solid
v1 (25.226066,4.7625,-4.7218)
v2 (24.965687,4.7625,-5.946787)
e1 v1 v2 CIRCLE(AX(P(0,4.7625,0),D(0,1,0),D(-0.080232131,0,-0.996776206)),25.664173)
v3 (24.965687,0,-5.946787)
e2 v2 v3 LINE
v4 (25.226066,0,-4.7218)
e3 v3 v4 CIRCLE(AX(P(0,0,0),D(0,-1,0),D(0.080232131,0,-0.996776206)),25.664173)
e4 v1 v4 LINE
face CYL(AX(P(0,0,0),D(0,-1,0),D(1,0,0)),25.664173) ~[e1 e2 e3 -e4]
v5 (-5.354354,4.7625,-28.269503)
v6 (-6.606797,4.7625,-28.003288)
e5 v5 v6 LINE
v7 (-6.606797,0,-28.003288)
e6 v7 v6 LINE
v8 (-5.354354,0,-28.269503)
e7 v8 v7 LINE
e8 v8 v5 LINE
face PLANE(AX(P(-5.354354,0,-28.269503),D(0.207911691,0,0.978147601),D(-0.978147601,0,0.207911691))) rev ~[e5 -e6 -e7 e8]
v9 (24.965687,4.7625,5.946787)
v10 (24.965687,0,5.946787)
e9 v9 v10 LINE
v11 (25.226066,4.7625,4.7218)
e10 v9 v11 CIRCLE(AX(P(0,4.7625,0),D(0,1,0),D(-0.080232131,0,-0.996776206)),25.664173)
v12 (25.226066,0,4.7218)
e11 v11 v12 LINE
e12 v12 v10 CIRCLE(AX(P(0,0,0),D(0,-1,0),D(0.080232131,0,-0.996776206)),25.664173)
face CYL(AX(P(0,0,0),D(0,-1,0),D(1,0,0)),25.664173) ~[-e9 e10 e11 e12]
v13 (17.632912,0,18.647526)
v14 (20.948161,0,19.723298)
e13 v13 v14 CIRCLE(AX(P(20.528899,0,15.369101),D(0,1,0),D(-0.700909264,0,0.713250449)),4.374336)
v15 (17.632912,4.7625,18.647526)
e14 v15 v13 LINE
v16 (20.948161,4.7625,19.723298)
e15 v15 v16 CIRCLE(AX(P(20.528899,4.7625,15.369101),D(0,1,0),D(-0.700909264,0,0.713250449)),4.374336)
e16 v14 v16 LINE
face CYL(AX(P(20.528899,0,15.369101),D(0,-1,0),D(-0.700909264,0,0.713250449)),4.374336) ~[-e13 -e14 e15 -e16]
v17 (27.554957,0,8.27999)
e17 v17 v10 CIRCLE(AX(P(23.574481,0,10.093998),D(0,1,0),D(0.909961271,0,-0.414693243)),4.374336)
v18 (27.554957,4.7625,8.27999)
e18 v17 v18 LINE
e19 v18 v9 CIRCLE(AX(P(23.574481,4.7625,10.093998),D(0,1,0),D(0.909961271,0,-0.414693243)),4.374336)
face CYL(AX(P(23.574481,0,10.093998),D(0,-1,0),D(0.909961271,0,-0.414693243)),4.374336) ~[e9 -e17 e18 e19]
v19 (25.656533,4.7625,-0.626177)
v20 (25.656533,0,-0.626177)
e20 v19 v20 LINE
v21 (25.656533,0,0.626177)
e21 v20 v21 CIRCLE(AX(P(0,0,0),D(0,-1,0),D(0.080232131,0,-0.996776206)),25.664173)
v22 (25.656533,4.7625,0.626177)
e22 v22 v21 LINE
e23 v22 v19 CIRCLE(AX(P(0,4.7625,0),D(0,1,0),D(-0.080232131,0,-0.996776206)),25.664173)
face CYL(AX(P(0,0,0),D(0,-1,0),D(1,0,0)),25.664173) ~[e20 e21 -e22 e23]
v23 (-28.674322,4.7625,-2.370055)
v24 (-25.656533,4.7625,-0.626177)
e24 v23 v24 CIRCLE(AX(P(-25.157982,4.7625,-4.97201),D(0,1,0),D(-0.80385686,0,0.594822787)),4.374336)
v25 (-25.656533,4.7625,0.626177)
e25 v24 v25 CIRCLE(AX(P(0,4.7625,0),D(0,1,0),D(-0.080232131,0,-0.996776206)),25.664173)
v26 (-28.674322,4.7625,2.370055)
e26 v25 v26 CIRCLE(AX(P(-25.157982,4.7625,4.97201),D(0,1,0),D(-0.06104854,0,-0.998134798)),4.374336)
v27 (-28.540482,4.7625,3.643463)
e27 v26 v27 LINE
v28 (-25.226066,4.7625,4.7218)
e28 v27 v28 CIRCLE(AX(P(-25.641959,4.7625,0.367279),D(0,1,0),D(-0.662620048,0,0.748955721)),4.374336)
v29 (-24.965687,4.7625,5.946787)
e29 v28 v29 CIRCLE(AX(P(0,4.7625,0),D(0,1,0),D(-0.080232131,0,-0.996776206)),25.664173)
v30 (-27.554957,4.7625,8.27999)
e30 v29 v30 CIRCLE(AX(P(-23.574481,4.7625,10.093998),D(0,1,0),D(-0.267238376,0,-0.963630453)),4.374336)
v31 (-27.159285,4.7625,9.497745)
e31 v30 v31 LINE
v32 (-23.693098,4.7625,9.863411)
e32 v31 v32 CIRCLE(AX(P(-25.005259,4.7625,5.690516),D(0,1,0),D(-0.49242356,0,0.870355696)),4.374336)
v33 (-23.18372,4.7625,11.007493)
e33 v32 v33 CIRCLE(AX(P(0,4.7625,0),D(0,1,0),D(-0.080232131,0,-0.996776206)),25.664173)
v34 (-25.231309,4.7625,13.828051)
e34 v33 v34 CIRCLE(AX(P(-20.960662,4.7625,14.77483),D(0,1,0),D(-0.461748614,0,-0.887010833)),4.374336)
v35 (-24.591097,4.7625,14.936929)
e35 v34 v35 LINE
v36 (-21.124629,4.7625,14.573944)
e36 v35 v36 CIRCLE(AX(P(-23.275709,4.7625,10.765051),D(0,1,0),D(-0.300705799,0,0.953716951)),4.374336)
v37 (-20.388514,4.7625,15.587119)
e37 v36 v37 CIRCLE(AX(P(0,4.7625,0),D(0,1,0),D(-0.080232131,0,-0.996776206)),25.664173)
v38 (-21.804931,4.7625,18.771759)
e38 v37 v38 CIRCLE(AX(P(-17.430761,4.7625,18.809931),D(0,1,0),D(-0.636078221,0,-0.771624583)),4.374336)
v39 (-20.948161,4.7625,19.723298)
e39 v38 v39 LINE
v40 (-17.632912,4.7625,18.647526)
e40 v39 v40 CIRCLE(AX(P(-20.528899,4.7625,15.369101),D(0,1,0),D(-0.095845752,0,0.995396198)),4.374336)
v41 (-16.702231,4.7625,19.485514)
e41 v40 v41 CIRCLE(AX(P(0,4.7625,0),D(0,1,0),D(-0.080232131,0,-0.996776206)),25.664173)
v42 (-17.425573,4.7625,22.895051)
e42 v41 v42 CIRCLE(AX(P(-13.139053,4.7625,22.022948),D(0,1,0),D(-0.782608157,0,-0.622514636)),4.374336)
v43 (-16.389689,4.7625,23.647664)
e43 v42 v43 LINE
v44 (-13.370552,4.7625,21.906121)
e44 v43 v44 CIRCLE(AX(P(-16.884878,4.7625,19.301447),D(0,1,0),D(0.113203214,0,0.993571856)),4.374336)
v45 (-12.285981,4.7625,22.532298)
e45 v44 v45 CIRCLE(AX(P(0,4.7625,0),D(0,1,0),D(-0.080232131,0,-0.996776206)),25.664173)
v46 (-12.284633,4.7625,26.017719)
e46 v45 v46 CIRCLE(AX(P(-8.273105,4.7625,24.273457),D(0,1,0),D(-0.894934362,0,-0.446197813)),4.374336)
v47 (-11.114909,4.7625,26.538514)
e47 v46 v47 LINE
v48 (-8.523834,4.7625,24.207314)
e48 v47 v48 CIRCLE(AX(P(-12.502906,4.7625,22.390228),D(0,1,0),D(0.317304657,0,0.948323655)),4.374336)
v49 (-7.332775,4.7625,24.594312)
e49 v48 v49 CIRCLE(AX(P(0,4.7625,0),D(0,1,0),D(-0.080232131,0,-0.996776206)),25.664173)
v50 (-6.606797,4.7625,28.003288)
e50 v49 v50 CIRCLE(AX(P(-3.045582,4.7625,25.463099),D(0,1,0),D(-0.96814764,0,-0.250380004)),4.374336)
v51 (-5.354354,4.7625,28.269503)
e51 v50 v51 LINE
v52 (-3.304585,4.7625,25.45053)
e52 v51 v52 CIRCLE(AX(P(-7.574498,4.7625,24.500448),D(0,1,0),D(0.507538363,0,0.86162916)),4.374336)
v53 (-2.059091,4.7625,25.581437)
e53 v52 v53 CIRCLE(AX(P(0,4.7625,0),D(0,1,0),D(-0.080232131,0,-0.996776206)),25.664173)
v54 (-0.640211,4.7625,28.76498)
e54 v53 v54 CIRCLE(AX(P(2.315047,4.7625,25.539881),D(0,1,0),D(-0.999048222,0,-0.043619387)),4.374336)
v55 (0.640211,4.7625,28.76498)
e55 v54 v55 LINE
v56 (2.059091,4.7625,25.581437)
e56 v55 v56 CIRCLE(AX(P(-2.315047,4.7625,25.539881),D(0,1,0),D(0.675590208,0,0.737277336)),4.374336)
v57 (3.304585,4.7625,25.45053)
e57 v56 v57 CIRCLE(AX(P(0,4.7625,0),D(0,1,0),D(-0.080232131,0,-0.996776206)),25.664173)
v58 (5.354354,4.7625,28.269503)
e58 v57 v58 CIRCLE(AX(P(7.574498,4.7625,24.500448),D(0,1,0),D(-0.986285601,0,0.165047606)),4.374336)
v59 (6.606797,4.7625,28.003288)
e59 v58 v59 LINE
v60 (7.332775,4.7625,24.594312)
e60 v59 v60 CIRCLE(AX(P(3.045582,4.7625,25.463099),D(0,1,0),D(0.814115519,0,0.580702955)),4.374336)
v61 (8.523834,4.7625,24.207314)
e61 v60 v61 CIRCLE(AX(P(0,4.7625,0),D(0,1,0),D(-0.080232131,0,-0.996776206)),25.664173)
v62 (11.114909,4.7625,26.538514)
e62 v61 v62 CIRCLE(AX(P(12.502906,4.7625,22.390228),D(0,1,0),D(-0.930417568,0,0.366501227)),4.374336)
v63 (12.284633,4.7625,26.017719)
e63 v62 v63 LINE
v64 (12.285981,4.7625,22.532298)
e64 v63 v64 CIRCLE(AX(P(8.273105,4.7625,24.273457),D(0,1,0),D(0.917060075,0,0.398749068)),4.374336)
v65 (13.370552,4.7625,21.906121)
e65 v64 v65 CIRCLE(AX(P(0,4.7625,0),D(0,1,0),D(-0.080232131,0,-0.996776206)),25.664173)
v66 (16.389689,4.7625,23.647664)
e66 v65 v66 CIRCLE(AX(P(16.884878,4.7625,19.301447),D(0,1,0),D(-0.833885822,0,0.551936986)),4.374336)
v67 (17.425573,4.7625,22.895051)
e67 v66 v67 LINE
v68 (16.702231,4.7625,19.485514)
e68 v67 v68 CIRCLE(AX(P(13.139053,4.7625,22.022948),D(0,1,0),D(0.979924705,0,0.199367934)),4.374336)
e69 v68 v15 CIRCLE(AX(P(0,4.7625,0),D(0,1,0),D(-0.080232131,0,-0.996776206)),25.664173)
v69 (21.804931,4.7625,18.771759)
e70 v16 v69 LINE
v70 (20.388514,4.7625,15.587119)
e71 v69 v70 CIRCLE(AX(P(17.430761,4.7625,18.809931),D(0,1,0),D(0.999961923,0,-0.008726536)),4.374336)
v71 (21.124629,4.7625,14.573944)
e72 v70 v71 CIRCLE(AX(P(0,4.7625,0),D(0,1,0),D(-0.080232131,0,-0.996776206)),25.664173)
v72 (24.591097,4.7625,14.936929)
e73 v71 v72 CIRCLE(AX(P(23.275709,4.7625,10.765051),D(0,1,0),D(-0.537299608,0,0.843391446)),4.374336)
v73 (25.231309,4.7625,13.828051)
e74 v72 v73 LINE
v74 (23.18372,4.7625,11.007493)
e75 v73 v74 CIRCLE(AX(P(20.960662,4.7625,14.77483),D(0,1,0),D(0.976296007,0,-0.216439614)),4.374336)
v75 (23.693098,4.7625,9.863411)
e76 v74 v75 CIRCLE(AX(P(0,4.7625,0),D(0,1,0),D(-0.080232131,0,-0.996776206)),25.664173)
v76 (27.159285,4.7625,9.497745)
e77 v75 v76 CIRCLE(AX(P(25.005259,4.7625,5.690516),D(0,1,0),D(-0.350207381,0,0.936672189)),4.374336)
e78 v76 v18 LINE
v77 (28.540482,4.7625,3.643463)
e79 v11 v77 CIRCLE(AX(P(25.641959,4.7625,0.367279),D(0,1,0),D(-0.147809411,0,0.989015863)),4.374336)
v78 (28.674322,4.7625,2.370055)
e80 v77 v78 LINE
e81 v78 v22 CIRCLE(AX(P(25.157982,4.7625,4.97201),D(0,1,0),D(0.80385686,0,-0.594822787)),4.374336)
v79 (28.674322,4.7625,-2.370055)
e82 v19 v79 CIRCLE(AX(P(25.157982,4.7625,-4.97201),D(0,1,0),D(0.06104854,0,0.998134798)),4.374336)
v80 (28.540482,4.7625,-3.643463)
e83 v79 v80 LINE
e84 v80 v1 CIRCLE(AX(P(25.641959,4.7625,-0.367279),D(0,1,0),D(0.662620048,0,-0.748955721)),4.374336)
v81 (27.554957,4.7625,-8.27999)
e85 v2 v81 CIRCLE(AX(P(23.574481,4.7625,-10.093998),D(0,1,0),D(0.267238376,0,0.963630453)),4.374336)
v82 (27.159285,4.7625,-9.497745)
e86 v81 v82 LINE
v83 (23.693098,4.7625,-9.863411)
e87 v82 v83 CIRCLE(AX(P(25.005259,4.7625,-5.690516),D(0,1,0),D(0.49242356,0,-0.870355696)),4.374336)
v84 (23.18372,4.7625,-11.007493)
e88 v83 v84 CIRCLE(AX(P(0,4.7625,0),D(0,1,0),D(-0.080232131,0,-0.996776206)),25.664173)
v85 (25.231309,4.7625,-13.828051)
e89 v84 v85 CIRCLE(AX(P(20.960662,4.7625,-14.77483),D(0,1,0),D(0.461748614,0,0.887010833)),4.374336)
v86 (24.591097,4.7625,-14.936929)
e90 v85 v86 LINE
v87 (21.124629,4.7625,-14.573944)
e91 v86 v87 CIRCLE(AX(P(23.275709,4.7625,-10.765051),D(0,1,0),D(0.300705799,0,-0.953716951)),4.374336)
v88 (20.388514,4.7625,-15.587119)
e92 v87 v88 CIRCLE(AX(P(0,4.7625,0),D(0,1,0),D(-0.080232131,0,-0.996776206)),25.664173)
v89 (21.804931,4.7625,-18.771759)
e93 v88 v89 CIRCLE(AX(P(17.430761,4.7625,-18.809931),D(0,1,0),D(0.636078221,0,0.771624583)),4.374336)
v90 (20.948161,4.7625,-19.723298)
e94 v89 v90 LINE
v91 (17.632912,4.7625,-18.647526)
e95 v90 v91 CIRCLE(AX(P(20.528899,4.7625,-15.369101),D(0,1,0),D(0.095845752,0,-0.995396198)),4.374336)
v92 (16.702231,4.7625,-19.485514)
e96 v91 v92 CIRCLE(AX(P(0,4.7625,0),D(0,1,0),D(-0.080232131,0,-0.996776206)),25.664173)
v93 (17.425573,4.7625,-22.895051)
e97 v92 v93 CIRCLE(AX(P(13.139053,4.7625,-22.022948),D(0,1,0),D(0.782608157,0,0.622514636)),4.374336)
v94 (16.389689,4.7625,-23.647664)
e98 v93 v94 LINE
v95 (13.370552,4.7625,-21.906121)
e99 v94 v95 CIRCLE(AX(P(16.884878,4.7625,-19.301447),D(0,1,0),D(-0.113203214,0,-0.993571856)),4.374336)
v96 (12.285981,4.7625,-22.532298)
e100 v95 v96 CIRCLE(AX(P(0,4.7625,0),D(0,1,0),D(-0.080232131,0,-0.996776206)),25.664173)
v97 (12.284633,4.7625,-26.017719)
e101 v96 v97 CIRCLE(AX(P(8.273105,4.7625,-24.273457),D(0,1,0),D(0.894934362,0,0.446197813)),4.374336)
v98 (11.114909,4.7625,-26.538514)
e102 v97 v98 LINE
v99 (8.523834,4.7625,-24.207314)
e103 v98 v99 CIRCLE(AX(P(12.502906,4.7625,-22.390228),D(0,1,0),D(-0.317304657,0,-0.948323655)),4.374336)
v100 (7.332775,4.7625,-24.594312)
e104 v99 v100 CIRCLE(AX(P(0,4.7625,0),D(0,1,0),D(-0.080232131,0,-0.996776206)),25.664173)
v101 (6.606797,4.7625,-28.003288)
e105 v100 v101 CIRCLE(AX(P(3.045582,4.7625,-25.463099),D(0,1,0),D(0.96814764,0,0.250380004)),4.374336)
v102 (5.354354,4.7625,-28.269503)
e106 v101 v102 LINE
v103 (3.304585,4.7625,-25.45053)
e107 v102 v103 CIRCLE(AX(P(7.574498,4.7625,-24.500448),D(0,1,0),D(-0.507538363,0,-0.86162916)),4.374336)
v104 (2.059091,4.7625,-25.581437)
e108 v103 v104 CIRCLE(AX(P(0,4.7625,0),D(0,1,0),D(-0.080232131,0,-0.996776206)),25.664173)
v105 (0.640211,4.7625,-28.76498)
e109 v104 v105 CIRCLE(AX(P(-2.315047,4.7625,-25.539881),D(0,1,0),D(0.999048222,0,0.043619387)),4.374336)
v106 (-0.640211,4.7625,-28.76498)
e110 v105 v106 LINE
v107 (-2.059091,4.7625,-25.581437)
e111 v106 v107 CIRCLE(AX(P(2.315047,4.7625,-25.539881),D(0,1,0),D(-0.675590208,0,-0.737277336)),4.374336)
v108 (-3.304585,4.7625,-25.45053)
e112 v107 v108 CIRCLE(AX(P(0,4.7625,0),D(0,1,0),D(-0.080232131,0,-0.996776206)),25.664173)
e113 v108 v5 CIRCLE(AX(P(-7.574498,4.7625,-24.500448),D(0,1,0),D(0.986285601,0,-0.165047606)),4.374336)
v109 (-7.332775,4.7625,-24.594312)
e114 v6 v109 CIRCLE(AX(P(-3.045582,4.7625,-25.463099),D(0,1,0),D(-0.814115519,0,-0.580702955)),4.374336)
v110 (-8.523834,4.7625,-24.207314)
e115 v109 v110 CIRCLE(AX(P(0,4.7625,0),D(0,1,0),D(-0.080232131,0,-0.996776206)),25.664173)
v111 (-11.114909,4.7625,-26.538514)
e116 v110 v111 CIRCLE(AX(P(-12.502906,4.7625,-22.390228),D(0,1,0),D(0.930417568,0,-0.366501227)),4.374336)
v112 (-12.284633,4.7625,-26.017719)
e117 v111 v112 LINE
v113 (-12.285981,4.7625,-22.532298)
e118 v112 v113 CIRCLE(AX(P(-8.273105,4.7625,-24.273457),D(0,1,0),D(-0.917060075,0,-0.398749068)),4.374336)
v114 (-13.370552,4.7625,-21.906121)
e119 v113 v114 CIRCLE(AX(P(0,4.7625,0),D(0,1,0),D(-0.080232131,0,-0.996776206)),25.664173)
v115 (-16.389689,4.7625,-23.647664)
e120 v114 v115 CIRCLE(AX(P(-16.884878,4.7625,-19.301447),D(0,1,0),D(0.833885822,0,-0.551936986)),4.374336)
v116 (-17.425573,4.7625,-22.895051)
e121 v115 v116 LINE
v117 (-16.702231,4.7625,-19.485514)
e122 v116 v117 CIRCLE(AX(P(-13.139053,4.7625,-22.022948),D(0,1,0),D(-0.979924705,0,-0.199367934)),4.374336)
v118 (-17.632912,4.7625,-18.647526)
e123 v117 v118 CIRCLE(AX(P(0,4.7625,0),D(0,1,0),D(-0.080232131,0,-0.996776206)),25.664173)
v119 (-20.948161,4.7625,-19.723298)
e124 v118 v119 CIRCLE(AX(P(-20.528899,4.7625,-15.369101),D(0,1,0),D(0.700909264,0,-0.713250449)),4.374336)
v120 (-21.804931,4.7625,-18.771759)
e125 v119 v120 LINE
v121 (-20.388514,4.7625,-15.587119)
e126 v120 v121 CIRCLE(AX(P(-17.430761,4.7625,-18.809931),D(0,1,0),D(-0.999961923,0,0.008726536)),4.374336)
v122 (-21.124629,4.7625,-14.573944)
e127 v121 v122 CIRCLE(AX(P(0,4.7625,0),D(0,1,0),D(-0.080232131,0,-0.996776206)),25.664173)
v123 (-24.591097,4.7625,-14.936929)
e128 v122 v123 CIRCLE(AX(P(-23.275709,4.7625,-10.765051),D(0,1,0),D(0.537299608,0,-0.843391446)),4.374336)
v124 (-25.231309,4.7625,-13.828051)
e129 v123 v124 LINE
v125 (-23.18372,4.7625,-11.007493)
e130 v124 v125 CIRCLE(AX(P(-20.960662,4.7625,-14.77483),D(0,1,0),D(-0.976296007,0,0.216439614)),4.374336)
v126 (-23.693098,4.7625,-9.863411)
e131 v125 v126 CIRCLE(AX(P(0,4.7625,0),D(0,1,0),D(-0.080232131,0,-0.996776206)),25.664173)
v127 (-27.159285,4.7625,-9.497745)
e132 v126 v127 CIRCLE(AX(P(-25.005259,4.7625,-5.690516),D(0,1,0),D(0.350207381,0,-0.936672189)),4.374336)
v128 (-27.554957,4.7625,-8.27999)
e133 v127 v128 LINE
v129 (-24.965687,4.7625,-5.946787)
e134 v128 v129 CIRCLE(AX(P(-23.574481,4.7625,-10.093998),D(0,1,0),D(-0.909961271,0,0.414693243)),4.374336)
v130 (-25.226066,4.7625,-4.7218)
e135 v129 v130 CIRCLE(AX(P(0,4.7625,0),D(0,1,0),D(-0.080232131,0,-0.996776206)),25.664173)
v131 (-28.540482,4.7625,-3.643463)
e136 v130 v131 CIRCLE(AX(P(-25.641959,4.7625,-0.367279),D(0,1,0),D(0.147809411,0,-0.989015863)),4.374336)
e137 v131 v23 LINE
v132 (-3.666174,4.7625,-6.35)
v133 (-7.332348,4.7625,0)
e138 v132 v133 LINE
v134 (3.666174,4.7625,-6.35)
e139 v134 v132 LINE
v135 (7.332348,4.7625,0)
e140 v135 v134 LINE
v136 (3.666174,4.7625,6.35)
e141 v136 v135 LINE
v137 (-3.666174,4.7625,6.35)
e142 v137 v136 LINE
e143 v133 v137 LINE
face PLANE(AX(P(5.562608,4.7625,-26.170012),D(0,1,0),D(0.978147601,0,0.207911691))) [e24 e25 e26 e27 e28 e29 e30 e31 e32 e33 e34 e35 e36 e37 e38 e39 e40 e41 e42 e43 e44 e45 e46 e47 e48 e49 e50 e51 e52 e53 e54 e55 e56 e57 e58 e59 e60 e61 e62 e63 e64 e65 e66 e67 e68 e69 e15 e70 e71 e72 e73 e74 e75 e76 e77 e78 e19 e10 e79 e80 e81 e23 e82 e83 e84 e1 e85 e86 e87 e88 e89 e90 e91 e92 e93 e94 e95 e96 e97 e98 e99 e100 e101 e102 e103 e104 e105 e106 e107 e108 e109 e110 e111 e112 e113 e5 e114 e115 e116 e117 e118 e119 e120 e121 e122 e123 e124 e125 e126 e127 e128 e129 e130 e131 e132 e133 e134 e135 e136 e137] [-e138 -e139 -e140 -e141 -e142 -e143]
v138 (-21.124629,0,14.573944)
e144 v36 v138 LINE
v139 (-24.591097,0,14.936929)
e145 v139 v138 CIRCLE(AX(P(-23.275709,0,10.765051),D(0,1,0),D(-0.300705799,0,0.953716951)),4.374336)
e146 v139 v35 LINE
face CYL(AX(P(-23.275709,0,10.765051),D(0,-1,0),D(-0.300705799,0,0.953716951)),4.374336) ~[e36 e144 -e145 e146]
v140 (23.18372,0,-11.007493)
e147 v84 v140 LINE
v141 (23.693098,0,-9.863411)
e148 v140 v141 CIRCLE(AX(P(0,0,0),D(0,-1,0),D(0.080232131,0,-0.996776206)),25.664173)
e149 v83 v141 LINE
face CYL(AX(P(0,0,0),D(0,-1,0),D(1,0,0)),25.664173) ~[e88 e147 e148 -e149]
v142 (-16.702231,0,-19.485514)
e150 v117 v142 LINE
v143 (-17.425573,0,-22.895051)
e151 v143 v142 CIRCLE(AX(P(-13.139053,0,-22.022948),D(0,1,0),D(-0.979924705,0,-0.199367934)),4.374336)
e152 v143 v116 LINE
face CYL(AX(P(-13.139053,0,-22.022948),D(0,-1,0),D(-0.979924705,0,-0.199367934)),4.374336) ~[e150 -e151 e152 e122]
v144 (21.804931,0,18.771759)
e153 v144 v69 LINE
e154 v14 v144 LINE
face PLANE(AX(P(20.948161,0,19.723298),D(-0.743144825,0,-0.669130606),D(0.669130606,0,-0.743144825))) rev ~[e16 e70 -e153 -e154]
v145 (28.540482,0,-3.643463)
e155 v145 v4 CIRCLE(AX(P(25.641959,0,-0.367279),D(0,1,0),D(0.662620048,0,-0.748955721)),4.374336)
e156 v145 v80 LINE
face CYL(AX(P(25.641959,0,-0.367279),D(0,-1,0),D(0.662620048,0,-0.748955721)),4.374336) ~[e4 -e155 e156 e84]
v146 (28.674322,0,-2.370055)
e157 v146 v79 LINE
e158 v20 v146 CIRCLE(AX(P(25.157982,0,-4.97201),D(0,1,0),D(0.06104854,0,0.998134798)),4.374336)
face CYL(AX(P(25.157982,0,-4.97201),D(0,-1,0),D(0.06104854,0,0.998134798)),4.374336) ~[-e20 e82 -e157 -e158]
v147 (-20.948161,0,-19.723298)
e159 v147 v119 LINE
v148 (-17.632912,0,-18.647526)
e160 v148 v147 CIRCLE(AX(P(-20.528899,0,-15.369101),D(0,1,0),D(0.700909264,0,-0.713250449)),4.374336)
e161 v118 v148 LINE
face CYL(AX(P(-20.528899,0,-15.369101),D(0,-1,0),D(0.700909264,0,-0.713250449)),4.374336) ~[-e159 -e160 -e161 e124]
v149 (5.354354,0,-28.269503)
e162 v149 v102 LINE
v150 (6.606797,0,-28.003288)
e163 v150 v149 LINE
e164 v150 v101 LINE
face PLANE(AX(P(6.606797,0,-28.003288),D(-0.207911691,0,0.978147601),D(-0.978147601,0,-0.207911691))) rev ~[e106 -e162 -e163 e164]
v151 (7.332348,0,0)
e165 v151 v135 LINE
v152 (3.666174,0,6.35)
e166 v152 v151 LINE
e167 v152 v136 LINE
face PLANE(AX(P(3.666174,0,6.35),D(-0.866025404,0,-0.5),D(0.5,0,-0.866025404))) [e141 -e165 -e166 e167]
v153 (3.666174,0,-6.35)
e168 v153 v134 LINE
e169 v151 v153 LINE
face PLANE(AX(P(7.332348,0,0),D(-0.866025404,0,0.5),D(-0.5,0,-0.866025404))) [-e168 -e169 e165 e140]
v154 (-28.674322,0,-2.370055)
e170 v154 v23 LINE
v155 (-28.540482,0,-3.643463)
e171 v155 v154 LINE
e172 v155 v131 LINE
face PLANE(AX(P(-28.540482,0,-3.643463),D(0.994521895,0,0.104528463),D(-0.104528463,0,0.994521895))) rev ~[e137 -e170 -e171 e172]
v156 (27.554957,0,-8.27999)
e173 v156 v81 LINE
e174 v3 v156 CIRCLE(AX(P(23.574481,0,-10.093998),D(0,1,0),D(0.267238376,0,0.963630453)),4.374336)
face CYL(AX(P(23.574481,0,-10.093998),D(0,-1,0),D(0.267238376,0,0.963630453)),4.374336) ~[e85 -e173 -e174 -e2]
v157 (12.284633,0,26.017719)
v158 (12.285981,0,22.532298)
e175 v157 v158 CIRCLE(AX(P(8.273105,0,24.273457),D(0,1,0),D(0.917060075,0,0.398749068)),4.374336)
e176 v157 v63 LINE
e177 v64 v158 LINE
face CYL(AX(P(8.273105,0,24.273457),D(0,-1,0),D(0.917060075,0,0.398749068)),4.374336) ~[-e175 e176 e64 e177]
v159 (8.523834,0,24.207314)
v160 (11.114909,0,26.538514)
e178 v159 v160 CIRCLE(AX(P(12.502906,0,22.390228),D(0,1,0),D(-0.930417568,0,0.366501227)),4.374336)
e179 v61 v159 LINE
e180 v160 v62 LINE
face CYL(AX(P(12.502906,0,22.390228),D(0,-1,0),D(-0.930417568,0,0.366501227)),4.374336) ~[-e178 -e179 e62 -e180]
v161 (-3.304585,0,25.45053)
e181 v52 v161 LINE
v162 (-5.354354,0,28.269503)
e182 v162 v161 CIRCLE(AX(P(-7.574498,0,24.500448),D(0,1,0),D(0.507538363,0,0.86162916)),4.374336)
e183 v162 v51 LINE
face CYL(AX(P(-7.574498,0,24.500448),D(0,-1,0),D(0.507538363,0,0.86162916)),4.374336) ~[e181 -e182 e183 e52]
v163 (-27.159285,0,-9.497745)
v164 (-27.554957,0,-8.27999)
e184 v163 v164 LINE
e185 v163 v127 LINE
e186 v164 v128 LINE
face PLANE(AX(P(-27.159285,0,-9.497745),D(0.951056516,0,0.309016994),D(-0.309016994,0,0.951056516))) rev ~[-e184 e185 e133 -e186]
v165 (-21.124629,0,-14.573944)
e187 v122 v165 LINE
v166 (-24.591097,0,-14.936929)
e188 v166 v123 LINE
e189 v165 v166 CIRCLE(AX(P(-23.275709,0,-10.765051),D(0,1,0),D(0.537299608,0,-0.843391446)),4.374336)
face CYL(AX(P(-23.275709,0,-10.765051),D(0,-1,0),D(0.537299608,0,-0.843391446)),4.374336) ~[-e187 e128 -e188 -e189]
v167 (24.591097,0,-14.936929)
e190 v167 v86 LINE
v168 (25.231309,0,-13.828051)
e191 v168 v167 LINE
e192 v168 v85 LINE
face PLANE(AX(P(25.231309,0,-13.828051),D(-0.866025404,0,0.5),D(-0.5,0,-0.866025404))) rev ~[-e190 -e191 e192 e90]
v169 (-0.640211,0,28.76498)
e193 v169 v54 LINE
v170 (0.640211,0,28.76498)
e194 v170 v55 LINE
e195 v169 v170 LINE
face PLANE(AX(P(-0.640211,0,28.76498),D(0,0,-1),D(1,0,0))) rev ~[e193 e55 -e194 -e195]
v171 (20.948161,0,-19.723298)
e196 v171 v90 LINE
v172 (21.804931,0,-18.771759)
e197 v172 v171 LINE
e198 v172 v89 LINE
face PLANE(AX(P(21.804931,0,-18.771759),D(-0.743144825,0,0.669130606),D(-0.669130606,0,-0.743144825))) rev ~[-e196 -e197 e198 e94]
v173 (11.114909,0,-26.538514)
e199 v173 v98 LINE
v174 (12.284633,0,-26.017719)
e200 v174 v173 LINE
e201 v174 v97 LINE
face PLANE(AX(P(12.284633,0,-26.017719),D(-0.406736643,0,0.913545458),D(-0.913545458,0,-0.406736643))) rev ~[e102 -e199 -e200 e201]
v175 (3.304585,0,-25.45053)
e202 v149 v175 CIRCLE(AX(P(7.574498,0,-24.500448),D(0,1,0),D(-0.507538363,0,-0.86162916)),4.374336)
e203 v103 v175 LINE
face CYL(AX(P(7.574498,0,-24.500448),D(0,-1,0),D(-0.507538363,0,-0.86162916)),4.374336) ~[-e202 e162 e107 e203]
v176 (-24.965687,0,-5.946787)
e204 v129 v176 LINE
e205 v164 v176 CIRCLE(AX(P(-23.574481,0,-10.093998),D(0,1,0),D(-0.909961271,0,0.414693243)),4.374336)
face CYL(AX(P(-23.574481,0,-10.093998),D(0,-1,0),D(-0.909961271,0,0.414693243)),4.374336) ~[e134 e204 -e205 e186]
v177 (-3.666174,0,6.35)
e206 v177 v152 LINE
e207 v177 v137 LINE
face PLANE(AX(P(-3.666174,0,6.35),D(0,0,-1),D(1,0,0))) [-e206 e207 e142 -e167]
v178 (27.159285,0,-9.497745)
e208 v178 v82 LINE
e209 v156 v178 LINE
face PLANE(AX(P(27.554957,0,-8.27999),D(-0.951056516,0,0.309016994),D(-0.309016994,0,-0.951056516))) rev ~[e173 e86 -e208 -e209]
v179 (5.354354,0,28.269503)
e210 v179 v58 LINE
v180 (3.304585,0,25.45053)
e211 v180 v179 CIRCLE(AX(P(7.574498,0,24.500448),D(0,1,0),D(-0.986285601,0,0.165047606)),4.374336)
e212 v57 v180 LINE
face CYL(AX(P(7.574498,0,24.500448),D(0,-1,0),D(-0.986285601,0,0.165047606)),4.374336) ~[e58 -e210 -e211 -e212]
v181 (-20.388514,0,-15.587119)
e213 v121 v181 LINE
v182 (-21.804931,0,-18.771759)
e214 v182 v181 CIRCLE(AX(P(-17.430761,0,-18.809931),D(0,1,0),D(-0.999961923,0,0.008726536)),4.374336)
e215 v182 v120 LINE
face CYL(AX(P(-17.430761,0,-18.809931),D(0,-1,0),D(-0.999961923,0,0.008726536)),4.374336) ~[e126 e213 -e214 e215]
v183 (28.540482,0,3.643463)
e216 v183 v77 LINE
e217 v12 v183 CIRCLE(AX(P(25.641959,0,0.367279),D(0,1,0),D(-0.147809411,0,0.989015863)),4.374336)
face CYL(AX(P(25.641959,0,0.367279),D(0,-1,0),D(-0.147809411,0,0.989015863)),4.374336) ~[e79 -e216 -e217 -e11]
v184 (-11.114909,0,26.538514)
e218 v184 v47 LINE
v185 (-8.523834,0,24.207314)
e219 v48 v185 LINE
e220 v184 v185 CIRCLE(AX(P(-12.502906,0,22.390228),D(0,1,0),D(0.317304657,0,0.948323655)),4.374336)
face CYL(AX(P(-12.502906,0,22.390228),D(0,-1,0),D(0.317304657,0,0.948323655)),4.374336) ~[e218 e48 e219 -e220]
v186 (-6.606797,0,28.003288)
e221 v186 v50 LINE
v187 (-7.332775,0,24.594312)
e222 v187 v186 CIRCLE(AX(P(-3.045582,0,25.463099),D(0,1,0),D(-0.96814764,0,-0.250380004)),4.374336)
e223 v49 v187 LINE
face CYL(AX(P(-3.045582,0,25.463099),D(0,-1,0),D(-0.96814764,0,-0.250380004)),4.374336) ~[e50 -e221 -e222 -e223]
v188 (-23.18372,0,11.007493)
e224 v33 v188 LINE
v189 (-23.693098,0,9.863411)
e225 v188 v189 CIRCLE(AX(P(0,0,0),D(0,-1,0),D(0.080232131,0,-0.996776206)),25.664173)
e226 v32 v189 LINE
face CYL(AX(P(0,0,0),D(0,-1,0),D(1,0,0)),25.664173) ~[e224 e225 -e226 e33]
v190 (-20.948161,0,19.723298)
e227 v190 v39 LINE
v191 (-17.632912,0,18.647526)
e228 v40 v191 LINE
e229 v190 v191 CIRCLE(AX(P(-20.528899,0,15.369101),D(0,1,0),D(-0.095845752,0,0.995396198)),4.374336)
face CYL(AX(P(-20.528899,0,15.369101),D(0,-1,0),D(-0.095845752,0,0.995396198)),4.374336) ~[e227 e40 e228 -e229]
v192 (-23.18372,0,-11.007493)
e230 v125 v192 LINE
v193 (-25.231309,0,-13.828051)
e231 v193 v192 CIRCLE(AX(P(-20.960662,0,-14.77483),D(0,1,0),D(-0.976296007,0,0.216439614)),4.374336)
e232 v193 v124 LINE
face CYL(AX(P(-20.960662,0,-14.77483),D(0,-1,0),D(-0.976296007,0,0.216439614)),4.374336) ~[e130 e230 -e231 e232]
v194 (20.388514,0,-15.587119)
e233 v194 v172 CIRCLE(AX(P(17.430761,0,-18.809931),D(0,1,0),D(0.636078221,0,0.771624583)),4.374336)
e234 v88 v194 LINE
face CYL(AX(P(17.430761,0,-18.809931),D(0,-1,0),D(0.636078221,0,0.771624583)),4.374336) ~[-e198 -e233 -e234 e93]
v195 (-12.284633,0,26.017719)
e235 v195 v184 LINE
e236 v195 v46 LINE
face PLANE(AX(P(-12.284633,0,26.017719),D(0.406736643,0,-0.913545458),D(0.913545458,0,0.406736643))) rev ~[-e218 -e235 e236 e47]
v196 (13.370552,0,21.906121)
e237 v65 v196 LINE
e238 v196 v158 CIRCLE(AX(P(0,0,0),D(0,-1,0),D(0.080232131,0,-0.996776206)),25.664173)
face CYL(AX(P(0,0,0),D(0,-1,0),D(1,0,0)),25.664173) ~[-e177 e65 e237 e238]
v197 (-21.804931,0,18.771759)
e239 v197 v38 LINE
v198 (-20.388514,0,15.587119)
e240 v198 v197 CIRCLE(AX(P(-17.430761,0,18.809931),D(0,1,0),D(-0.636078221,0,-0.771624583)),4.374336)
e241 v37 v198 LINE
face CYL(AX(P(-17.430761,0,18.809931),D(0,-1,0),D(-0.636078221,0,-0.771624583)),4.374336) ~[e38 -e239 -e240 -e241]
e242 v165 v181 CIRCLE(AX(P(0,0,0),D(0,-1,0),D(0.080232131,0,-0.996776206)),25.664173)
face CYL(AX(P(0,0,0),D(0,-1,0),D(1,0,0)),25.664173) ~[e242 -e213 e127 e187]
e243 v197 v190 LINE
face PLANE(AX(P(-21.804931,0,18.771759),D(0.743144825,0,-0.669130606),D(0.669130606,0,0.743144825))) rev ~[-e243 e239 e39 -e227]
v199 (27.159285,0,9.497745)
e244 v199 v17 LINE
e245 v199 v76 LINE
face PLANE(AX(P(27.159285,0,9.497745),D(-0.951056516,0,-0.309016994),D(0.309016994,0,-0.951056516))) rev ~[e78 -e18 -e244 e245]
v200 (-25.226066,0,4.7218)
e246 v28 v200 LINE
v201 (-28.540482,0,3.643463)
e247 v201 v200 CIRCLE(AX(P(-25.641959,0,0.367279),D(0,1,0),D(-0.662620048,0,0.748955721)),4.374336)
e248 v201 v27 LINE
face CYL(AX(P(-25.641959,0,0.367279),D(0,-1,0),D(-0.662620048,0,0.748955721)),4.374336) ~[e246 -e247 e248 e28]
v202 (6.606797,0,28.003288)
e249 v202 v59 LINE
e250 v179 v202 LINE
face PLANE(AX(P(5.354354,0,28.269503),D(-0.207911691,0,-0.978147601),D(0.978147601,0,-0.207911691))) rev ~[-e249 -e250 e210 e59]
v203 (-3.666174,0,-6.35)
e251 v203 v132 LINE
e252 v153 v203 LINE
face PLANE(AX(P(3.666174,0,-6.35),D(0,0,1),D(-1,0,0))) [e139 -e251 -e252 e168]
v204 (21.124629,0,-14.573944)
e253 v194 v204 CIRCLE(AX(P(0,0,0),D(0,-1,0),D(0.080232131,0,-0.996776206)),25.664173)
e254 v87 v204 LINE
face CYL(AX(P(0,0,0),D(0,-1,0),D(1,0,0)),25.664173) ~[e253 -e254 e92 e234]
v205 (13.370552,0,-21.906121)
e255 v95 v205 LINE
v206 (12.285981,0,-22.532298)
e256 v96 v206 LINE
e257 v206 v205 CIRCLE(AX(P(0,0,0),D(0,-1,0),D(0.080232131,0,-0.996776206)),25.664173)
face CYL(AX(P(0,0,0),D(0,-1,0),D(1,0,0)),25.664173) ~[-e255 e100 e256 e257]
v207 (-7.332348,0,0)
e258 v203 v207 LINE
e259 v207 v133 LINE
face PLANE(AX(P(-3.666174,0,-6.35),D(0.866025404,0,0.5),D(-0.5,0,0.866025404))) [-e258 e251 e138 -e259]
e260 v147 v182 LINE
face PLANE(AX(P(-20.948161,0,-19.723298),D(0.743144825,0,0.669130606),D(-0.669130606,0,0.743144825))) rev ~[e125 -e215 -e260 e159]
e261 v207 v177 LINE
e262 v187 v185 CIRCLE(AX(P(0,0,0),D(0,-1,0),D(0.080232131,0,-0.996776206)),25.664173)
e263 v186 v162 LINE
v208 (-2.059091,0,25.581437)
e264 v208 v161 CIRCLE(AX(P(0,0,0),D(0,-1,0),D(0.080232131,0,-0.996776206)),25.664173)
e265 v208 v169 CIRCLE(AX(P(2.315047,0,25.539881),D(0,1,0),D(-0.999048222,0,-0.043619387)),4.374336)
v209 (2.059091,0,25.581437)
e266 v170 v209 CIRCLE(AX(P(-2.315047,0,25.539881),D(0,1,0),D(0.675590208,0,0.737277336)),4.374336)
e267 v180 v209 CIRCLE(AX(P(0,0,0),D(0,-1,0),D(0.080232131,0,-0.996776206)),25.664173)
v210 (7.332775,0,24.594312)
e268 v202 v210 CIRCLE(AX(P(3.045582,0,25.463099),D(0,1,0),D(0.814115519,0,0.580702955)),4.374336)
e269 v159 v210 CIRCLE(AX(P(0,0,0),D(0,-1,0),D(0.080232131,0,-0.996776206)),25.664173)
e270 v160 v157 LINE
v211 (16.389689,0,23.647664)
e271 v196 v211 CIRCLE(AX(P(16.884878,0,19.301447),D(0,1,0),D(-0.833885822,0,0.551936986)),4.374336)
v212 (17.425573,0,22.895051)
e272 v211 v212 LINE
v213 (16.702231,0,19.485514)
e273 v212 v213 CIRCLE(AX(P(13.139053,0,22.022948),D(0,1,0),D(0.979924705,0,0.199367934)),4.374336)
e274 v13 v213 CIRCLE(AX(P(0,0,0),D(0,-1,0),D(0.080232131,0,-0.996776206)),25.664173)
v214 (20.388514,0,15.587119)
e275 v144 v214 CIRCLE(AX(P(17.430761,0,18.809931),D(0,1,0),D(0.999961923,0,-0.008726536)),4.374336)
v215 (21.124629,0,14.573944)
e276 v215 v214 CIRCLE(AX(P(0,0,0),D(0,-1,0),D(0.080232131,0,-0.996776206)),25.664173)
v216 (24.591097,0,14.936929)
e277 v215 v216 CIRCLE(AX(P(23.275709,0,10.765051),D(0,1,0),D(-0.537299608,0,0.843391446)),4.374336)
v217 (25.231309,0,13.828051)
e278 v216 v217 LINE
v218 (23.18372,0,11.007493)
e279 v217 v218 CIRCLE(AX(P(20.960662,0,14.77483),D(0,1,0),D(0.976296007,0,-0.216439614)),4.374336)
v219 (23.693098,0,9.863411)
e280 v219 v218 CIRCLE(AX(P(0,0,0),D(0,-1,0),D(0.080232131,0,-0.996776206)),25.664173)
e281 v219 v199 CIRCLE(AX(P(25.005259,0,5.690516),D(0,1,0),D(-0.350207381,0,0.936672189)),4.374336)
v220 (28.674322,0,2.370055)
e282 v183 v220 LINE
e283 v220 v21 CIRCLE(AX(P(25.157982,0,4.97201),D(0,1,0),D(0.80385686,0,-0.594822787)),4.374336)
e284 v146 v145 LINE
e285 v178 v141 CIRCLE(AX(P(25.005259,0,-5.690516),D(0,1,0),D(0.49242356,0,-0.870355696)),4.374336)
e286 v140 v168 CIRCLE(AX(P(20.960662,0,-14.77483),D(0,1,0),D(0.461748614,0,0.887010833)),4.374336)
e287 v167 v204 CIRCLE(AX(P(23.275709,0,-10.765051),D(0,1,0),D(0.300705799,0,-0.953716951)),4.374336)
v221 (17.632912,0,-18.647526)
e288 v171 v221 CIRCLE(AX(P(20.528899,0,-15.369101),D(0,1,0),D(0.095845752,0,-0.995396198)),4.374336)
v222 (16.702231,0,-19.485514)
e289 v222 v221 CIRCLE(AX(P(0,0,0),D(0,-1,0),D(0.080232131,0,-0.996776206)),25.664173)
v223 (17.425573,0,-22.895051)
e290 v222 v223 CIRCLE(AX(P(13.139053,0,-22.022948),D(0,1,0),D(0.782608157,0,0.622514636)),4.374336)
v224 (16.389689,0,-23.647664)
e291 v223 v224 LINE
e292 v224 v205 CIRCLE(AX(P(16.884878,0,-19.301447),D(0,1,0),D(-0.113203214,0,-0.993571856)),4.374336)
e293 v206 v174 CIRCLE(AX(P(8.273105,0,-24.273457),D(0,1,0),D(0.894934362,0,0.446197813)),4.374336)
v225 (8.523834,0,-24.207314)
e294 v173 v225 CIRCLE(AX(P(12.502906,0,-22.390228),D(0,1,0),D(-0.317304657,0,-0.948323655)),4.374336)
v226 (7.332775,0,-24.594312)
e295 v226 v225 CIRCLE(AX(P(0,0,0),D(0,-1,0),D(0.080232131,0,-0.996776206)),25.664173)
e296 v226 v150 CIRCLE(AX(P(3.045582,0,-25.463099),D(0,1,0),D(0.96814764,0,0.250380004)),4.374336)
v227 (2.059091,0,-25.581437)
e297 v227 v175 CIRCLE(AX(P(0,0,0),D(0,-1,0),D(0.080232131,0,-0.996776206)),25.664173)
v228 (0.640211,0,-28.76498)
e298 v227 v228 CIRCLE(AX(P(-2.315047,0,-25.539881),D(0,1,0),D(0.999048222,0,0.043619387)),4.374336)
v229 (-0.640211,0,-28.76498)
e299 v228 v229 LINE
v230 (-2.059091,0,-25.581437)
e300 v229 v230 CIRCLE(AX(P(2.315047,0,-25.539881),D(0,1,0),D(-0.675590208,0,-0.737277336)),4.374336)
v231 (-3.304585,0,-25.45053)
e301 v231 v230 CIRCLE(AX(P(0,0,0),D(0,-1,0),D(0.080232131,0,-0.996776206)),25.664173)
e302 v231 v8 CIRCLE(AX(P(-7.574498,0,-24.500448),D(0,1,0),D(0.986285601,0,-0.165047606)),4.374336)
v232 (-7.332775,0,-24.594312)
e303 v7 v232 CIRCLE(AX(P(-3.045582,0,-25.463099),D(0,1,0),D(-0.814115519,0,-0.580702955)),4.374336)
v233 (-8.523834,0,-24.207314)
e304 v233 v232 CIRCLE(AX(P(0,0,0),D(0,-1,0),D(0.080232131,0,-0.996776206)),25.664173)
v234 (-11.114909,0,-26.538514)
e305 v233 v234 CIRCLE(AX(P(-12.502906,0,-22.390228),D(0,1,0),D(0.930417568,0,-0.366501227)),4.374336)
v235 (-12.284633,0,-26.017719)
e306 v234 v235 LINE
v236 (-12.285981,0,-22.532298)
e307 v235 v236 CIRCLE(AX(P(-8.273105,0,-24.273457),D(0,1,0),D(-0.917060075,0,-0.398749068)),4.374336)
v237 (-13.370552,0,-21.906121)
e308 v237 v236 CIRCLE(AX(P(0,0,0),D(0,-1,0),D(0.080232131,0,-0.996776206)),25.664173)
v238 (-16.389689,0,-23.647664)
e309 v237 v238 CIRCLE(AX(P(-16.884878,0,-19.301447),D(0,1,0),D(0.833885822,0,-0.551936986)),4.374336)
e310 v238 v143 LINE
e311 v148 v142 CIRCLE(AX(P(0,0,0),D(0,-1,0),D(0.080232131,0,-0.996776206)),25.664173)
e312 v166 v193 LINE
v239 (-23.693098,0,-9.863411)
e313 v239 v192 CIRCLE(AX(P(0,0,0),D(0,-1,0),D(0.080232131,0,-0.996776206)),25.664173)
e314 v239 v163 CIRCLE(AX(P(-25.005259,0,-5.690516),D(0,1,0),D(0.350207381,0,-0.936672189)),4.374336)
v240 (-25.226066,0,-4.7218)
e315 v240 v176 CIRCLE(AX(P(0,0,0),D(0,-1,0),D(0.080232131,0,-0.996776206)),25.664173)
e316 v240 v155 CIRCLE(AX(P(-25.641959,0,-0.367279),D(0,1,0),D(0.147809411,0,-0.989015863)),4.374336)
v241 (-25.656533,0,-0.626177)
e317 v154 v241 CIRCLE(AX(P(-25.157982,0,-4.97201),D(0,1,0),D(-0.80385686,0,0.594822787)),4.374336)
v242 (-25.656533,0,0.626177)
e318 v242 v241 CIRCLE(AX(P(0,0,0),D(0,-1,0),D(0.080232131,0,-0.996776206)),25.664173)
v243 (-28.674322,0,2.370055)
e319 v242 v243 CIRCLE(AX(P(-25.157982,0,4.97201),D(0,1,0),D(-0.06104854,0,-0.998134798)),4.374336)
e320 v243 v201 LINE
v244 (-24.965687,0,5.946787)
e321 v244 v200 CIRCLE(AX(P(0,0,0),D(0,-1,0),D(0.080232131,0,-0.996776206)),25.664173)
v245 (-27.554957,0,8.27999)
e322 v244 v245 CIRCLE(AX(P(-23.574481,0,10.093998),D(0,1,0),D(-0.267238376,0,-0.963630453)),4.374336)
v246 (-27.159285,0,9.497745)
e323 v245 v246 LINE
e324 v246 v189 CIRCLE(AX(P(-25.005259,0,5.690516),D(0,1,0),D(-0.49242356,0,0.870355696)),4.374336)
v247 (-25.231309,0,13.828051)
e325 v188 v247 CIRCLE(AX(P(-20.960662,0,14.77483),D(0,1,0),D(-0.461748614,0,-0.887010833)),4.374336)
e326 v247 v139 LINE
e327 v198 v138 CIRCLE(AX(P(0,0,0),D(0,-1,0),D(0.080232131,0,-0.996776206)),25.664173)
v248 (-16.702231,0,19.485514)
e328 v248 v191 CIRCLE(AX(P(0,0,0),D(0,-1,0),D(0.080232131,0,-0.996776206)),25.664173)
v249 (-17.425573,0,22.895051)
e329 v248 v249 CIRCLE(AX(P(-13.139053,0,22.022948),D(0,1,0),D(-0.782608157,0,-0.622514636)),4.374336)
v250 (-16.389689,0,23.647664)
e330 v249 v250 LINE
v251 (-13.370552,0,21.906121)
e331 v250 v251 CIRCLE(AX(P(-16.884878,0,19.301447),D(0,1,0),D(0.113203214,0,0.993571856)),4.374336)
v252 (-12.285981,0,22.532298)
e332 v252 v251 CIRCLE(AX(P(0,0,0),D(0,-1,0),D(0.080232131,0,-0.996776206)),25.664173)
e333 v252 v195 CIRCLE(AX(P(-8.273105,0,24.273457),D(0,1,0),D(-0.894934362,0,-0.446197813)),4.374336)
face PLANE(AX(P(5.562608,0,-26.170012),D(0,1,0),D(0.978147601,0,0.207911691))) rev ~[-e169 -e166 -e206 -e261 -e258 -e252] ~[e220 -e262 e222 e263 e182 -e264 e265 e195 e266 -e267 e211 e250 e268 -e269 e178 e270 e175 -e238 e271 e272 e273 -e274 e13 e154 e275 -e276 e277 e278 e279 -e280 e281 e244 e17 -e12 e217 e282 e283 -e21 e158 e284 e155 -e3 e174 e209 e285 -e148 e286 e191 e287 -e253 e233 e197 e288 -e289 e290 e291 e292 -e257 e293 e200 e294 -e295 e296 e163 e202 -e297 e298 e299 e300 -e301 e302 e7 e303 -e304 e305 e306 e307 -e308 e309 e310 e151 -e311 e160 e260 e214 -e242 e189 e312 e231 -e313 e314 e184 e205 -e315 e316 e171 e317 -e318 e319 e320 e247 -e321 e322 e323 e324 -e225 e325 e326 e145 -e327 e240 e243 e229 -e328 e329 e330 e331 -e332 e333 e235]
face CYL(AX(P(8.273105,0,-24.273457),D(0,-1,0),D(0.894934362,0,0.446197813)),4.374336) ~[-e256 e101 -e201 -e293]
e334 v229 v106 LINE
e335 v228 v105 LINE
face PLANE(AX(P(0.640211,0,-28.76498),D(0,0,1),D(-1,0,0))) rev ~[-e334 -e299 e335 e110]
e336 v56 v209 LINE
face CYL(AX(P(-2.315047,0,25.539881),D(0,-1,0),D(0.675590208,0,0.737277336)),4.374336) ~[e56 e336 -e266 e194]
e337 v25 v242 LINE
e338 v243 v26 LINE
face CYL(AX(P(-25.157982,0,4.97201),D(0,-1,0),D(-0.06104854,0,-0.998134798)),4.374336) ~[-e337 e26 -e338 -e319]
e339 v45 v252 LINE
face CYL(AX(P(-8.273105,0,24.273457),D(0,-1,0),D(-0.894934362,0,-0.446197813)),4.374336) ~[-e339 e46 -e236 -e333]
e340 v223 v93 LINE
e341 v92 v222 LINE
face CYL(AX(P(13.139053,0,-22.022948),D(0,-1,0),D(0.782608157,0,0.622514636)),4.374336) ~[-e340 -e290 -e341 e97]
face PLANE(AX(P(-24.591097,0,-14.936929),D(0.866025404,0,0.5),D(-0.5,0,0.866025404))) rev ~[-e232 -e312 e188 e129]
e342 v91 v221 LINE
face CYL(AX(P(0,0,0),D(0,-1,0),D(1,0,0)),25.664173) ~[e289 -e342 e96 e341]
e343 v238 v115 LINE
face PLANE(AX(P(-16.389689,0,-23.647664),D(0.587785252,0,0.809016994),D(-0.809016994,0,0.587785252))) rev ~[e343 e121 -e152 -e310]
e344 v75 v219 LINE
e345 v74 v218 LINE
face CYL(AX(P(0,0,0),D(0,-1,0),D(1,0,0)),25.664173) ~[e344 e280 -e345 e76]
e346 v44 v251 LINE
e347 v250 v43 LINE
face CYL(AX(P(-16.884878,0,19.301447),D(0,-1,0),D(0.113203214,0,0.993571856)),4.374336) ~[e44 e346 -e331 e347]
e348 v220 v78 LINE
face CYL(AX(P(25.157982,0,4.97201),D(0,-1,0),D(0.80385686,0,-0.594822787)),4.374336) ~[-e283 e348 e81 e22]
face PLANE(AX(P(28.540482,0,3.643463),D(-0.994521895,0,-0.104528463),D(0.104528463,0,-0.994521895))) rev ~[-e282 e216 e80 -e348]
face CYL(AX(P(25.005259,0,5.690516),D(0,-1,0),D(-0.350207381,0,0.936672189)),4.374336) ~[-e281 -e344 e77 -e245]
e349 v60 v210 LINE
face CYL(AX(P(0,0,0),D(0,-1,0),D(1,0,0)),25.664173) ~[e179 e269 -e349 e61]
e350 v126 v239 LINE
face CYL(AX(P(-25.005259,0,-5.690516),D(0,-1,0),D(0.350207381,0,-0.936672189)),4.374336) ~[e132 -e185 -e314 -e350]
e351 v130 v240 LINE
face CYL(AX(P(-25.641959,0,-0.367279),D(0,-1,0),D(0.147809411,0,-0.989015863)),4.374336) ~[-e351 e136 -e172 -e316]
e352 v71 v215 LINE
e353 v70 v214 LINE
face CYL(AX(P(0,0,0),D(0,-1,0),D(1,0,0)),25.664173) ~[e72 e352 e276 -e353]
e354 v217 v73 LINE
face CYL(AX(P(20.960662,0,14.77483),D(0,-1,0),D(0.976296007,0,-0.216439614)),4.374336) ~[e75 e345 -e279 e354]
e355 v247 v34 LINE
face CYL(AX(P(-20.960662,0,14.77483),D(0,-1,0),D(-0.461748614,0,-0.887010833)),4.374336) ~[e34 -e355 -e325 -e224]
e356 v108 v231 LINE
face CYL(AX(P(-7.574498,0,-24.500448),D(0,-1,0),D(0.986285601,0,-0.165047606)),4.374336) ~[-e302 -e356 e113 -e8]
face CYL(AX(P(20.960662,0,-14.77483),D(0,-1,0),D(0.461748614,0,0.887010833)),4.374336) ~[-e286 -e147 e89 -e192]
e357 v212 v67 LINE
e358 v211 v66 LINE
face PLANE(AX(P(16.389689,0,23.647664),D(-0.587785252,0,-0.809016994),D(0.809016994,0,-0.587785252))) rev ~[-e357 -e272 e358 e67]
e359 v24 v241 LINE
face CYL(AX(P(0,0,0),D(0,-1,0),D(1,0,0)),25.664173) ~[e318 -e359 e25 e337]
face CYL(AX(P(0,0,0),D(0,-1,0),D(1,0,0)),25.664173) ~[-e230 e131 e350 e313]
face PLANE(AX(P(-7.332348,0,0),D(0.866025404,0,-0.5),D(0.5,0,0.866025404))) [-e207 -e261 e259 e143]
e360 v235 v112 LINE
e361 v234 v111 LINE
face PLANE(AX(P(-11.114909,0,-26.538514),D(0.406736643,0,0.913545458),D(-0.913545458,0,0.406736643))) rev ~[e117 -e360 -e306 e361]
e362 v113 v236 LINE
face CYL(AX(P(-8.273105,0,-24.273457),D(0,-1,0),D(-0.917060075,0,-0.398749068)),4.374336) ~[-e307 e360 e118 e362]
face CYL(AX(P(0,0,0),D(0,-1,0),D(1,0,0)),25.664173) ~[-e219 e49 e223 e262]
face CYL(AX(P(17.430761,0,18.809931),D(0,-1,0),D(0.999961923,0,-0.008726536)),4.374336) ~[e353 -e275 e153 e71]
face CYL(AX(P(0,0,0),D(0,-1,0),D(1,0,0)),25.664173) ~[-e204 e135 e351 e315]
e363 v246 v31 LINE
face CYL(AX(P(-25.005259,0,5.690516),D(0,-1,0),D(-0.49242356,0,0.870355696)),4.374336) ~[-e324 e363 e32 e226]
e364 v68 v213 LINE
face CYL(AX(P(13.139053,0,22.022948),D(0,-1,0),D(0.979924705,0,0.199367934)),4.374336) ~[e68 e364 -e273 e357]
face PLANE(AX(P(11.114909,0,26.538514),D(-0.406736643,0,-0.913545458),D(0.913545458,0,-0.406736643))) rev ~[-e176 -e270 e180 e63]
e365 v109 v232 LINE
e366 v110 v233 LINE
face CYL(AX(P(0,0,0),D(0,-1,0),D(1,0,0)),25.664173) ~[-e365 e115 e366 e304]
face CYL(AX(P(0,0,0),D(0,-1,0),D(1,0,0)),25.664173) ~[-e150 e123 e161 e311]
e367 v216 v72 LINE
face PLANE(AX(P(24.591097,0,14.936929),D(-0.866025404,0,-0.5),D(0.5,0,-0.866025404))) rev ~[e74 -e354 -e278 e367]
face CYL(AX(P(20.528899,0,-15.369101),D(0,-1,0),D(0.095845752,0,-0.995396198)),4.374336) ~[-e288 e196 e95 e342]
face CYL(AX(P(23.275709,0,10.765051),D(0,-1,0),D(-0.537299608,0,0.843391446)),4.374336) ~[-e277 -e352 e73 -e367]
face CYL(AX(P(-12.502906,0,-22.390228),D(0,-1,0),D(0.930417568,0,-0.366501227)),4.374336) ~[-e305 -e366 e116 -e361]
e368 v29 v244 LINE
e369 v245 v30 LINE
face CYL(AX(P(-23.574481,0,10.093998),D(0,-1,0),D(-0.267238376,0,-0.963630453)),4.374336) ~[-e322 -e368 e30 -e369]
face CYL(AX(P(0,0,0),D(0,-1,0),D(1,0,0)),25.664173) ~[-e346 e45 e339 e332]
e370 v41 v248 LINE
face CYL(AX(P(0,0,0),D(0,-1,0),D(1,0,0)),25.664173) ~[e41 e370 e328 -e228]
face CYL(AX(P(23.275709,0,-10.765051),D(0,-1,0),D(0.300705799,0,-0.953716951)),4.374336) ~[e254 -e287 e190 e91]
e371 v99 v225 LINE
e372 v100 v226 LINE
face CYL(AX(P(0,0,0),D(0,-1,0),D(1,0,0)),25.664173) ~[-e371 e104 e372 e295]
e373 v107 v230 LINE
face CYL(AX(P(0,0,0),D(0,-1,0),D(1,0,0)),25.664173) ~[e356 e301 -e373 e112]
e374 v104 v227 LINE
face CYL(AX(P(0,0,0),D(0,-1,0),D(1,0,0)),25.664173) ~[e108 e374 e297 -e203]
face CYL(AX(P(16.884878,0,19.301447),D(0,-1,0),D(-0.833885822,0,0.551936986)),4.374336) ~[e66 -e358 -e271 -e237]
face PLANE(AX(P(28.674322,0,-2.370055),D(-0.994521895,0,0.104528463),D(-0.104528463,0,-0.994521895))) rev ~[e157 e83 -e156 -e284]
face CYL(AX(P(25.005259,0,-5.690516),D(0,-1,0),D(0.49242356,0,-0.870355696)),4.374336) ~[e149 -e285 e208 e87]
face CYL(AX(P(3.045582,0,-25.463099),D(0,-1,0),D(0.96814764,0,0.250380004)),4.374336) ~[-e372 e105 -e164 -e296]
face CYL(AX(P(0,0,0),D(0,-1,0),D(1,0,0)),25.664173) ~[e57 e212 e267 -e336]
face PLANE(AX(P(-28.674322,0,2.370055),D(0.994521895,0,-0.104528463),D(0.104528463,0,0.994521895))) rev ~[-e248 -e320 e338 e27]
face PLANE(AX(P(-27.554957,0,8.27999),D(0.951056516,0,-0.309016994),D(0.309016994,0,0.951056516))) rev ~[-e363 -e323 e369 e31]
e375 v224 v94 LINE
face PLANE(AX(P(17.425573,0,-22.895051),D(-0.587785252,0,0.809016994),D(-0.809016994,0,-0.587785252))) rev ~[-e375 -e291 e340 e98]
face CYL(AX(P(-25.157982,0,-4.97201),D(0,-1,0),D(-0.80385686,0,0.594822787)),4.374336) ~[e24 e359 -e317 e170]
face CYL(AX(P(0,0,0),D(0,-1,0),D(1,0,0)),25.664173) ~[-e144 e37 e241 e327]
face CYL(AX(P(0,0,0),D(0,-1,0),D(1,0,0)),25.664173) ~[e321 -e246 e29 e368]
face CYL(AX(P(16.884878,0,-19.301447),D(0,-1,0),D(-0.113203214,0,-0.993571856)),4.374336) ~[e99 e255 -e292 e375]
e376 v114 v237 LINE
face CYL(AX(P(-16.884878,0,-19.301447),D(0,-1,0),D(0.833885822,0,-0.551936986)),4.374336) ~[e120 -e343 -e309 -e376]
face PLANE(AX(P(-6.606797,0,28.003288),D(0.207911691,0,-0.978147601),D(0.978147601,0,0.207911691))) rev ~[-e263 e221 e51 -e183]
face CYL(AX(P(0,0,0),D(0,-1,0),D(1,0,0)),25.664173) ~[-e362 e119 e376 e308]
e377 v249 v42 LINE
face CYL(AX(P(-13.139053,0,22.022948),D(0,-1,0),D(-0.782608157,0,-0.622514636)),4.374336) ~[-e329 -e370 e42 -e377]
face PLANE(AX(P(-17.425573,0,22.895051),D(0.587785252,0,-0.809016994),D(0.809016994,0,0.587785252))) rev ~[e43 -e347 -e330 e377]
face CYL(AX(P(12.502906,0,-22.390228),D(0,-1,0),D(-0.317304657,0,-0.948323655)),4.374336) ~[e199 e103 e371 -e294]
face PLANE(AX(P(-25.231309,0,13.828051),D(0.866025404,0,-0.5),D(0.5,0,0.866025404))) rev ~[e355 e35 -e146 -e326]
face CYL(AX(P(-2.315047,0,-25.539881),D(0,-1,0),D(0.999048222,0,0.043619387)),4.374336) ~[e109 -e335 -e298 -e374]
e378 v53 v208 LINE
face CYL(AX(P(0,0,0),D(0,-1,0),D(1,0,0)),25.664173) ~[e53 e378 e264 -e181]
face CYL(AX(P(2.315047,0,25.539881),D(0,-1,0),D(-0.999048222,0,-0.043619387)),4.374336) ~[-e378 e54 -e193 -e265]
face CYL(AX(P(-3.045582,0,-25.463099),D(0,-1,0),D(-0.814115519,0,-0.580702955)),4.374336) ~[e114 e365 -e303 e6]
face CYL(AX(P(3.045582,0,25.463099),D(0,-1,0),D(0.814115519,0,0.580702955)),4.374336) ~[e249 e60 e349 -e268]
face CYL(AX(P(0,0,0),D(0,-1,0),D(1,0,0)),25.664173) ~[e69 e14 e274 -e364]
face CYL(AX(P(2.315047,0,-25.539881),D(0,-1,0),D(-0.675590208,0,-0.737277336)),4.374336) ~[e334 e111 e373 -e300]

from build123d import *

# Parameters (mm, degrees)
SKETCH2_R           = 25.664173075
BOSS_EXTRUDE2_DEPTH = 4.7625
BOSS_EXTRUDE3_DEPTH = 4.7625
CIRPATTERN1_COUNT   = 30


with BuildPart() as part:
    # Sketch2 → Boss-Extrude2 (new body)
    with BuildSketch(Plane(origin=(0, 0, 0), x_dir=(1, 0, 0), z_dir=(0, 1, 0))):
        Circle(SKETCH2_R)
        Polygon((7.332348419, 0), (3.666174209, 6.35), (-3.666174209, 6.35), (-7.332348419, 0), (-3.666174209, -6.35), (3.666174209, -6.35), align=None, mode=Mode.SUBTRACT)
    extrude(amount=BOSS_EXTRUDE2_DEPTH)

    # Sketch1 → Boss-Extrude3 (add)
    with BuildSketch(Plane(origin=(0, 0, 0), x_dir=(1, 0, 0), z_dir=(0, 1, 0))):
        with BuildLine():
            Line((0.640211275, 28.764979636), (-0.640211275, 28.764979636))
            ThreePointArc((-0.640211275, 28.764979636), (-1.726312193, 27.213866774), (-2.055125292, 25.349075026))
            ThreePointArc((-2.055125292, 25.349075026), (0, 25.432246157), (2.055125292, 25.349075026))
            ThreePointArc((2.055125292, 25.349075026), (1.726312193, 27.213866774), (0.640211275, 28.764979636))
        make_face()
    boss_extrude3 = extrude(amount=BOSS_EXTRUDE3_DEPTH)

    # CirPattern1: Boss-Extrude3 ×30 about axis
    cirpattern1_axis = Axis((0, 0, 0), (0, 1, 0))
    for i in range(1, CIRPATTERN1_COUNT):
        add(boss_extrude3.rotate(cirpattern1_axis, i * 360 / CIRPATTERN1_COUNT))


solid = part.part
